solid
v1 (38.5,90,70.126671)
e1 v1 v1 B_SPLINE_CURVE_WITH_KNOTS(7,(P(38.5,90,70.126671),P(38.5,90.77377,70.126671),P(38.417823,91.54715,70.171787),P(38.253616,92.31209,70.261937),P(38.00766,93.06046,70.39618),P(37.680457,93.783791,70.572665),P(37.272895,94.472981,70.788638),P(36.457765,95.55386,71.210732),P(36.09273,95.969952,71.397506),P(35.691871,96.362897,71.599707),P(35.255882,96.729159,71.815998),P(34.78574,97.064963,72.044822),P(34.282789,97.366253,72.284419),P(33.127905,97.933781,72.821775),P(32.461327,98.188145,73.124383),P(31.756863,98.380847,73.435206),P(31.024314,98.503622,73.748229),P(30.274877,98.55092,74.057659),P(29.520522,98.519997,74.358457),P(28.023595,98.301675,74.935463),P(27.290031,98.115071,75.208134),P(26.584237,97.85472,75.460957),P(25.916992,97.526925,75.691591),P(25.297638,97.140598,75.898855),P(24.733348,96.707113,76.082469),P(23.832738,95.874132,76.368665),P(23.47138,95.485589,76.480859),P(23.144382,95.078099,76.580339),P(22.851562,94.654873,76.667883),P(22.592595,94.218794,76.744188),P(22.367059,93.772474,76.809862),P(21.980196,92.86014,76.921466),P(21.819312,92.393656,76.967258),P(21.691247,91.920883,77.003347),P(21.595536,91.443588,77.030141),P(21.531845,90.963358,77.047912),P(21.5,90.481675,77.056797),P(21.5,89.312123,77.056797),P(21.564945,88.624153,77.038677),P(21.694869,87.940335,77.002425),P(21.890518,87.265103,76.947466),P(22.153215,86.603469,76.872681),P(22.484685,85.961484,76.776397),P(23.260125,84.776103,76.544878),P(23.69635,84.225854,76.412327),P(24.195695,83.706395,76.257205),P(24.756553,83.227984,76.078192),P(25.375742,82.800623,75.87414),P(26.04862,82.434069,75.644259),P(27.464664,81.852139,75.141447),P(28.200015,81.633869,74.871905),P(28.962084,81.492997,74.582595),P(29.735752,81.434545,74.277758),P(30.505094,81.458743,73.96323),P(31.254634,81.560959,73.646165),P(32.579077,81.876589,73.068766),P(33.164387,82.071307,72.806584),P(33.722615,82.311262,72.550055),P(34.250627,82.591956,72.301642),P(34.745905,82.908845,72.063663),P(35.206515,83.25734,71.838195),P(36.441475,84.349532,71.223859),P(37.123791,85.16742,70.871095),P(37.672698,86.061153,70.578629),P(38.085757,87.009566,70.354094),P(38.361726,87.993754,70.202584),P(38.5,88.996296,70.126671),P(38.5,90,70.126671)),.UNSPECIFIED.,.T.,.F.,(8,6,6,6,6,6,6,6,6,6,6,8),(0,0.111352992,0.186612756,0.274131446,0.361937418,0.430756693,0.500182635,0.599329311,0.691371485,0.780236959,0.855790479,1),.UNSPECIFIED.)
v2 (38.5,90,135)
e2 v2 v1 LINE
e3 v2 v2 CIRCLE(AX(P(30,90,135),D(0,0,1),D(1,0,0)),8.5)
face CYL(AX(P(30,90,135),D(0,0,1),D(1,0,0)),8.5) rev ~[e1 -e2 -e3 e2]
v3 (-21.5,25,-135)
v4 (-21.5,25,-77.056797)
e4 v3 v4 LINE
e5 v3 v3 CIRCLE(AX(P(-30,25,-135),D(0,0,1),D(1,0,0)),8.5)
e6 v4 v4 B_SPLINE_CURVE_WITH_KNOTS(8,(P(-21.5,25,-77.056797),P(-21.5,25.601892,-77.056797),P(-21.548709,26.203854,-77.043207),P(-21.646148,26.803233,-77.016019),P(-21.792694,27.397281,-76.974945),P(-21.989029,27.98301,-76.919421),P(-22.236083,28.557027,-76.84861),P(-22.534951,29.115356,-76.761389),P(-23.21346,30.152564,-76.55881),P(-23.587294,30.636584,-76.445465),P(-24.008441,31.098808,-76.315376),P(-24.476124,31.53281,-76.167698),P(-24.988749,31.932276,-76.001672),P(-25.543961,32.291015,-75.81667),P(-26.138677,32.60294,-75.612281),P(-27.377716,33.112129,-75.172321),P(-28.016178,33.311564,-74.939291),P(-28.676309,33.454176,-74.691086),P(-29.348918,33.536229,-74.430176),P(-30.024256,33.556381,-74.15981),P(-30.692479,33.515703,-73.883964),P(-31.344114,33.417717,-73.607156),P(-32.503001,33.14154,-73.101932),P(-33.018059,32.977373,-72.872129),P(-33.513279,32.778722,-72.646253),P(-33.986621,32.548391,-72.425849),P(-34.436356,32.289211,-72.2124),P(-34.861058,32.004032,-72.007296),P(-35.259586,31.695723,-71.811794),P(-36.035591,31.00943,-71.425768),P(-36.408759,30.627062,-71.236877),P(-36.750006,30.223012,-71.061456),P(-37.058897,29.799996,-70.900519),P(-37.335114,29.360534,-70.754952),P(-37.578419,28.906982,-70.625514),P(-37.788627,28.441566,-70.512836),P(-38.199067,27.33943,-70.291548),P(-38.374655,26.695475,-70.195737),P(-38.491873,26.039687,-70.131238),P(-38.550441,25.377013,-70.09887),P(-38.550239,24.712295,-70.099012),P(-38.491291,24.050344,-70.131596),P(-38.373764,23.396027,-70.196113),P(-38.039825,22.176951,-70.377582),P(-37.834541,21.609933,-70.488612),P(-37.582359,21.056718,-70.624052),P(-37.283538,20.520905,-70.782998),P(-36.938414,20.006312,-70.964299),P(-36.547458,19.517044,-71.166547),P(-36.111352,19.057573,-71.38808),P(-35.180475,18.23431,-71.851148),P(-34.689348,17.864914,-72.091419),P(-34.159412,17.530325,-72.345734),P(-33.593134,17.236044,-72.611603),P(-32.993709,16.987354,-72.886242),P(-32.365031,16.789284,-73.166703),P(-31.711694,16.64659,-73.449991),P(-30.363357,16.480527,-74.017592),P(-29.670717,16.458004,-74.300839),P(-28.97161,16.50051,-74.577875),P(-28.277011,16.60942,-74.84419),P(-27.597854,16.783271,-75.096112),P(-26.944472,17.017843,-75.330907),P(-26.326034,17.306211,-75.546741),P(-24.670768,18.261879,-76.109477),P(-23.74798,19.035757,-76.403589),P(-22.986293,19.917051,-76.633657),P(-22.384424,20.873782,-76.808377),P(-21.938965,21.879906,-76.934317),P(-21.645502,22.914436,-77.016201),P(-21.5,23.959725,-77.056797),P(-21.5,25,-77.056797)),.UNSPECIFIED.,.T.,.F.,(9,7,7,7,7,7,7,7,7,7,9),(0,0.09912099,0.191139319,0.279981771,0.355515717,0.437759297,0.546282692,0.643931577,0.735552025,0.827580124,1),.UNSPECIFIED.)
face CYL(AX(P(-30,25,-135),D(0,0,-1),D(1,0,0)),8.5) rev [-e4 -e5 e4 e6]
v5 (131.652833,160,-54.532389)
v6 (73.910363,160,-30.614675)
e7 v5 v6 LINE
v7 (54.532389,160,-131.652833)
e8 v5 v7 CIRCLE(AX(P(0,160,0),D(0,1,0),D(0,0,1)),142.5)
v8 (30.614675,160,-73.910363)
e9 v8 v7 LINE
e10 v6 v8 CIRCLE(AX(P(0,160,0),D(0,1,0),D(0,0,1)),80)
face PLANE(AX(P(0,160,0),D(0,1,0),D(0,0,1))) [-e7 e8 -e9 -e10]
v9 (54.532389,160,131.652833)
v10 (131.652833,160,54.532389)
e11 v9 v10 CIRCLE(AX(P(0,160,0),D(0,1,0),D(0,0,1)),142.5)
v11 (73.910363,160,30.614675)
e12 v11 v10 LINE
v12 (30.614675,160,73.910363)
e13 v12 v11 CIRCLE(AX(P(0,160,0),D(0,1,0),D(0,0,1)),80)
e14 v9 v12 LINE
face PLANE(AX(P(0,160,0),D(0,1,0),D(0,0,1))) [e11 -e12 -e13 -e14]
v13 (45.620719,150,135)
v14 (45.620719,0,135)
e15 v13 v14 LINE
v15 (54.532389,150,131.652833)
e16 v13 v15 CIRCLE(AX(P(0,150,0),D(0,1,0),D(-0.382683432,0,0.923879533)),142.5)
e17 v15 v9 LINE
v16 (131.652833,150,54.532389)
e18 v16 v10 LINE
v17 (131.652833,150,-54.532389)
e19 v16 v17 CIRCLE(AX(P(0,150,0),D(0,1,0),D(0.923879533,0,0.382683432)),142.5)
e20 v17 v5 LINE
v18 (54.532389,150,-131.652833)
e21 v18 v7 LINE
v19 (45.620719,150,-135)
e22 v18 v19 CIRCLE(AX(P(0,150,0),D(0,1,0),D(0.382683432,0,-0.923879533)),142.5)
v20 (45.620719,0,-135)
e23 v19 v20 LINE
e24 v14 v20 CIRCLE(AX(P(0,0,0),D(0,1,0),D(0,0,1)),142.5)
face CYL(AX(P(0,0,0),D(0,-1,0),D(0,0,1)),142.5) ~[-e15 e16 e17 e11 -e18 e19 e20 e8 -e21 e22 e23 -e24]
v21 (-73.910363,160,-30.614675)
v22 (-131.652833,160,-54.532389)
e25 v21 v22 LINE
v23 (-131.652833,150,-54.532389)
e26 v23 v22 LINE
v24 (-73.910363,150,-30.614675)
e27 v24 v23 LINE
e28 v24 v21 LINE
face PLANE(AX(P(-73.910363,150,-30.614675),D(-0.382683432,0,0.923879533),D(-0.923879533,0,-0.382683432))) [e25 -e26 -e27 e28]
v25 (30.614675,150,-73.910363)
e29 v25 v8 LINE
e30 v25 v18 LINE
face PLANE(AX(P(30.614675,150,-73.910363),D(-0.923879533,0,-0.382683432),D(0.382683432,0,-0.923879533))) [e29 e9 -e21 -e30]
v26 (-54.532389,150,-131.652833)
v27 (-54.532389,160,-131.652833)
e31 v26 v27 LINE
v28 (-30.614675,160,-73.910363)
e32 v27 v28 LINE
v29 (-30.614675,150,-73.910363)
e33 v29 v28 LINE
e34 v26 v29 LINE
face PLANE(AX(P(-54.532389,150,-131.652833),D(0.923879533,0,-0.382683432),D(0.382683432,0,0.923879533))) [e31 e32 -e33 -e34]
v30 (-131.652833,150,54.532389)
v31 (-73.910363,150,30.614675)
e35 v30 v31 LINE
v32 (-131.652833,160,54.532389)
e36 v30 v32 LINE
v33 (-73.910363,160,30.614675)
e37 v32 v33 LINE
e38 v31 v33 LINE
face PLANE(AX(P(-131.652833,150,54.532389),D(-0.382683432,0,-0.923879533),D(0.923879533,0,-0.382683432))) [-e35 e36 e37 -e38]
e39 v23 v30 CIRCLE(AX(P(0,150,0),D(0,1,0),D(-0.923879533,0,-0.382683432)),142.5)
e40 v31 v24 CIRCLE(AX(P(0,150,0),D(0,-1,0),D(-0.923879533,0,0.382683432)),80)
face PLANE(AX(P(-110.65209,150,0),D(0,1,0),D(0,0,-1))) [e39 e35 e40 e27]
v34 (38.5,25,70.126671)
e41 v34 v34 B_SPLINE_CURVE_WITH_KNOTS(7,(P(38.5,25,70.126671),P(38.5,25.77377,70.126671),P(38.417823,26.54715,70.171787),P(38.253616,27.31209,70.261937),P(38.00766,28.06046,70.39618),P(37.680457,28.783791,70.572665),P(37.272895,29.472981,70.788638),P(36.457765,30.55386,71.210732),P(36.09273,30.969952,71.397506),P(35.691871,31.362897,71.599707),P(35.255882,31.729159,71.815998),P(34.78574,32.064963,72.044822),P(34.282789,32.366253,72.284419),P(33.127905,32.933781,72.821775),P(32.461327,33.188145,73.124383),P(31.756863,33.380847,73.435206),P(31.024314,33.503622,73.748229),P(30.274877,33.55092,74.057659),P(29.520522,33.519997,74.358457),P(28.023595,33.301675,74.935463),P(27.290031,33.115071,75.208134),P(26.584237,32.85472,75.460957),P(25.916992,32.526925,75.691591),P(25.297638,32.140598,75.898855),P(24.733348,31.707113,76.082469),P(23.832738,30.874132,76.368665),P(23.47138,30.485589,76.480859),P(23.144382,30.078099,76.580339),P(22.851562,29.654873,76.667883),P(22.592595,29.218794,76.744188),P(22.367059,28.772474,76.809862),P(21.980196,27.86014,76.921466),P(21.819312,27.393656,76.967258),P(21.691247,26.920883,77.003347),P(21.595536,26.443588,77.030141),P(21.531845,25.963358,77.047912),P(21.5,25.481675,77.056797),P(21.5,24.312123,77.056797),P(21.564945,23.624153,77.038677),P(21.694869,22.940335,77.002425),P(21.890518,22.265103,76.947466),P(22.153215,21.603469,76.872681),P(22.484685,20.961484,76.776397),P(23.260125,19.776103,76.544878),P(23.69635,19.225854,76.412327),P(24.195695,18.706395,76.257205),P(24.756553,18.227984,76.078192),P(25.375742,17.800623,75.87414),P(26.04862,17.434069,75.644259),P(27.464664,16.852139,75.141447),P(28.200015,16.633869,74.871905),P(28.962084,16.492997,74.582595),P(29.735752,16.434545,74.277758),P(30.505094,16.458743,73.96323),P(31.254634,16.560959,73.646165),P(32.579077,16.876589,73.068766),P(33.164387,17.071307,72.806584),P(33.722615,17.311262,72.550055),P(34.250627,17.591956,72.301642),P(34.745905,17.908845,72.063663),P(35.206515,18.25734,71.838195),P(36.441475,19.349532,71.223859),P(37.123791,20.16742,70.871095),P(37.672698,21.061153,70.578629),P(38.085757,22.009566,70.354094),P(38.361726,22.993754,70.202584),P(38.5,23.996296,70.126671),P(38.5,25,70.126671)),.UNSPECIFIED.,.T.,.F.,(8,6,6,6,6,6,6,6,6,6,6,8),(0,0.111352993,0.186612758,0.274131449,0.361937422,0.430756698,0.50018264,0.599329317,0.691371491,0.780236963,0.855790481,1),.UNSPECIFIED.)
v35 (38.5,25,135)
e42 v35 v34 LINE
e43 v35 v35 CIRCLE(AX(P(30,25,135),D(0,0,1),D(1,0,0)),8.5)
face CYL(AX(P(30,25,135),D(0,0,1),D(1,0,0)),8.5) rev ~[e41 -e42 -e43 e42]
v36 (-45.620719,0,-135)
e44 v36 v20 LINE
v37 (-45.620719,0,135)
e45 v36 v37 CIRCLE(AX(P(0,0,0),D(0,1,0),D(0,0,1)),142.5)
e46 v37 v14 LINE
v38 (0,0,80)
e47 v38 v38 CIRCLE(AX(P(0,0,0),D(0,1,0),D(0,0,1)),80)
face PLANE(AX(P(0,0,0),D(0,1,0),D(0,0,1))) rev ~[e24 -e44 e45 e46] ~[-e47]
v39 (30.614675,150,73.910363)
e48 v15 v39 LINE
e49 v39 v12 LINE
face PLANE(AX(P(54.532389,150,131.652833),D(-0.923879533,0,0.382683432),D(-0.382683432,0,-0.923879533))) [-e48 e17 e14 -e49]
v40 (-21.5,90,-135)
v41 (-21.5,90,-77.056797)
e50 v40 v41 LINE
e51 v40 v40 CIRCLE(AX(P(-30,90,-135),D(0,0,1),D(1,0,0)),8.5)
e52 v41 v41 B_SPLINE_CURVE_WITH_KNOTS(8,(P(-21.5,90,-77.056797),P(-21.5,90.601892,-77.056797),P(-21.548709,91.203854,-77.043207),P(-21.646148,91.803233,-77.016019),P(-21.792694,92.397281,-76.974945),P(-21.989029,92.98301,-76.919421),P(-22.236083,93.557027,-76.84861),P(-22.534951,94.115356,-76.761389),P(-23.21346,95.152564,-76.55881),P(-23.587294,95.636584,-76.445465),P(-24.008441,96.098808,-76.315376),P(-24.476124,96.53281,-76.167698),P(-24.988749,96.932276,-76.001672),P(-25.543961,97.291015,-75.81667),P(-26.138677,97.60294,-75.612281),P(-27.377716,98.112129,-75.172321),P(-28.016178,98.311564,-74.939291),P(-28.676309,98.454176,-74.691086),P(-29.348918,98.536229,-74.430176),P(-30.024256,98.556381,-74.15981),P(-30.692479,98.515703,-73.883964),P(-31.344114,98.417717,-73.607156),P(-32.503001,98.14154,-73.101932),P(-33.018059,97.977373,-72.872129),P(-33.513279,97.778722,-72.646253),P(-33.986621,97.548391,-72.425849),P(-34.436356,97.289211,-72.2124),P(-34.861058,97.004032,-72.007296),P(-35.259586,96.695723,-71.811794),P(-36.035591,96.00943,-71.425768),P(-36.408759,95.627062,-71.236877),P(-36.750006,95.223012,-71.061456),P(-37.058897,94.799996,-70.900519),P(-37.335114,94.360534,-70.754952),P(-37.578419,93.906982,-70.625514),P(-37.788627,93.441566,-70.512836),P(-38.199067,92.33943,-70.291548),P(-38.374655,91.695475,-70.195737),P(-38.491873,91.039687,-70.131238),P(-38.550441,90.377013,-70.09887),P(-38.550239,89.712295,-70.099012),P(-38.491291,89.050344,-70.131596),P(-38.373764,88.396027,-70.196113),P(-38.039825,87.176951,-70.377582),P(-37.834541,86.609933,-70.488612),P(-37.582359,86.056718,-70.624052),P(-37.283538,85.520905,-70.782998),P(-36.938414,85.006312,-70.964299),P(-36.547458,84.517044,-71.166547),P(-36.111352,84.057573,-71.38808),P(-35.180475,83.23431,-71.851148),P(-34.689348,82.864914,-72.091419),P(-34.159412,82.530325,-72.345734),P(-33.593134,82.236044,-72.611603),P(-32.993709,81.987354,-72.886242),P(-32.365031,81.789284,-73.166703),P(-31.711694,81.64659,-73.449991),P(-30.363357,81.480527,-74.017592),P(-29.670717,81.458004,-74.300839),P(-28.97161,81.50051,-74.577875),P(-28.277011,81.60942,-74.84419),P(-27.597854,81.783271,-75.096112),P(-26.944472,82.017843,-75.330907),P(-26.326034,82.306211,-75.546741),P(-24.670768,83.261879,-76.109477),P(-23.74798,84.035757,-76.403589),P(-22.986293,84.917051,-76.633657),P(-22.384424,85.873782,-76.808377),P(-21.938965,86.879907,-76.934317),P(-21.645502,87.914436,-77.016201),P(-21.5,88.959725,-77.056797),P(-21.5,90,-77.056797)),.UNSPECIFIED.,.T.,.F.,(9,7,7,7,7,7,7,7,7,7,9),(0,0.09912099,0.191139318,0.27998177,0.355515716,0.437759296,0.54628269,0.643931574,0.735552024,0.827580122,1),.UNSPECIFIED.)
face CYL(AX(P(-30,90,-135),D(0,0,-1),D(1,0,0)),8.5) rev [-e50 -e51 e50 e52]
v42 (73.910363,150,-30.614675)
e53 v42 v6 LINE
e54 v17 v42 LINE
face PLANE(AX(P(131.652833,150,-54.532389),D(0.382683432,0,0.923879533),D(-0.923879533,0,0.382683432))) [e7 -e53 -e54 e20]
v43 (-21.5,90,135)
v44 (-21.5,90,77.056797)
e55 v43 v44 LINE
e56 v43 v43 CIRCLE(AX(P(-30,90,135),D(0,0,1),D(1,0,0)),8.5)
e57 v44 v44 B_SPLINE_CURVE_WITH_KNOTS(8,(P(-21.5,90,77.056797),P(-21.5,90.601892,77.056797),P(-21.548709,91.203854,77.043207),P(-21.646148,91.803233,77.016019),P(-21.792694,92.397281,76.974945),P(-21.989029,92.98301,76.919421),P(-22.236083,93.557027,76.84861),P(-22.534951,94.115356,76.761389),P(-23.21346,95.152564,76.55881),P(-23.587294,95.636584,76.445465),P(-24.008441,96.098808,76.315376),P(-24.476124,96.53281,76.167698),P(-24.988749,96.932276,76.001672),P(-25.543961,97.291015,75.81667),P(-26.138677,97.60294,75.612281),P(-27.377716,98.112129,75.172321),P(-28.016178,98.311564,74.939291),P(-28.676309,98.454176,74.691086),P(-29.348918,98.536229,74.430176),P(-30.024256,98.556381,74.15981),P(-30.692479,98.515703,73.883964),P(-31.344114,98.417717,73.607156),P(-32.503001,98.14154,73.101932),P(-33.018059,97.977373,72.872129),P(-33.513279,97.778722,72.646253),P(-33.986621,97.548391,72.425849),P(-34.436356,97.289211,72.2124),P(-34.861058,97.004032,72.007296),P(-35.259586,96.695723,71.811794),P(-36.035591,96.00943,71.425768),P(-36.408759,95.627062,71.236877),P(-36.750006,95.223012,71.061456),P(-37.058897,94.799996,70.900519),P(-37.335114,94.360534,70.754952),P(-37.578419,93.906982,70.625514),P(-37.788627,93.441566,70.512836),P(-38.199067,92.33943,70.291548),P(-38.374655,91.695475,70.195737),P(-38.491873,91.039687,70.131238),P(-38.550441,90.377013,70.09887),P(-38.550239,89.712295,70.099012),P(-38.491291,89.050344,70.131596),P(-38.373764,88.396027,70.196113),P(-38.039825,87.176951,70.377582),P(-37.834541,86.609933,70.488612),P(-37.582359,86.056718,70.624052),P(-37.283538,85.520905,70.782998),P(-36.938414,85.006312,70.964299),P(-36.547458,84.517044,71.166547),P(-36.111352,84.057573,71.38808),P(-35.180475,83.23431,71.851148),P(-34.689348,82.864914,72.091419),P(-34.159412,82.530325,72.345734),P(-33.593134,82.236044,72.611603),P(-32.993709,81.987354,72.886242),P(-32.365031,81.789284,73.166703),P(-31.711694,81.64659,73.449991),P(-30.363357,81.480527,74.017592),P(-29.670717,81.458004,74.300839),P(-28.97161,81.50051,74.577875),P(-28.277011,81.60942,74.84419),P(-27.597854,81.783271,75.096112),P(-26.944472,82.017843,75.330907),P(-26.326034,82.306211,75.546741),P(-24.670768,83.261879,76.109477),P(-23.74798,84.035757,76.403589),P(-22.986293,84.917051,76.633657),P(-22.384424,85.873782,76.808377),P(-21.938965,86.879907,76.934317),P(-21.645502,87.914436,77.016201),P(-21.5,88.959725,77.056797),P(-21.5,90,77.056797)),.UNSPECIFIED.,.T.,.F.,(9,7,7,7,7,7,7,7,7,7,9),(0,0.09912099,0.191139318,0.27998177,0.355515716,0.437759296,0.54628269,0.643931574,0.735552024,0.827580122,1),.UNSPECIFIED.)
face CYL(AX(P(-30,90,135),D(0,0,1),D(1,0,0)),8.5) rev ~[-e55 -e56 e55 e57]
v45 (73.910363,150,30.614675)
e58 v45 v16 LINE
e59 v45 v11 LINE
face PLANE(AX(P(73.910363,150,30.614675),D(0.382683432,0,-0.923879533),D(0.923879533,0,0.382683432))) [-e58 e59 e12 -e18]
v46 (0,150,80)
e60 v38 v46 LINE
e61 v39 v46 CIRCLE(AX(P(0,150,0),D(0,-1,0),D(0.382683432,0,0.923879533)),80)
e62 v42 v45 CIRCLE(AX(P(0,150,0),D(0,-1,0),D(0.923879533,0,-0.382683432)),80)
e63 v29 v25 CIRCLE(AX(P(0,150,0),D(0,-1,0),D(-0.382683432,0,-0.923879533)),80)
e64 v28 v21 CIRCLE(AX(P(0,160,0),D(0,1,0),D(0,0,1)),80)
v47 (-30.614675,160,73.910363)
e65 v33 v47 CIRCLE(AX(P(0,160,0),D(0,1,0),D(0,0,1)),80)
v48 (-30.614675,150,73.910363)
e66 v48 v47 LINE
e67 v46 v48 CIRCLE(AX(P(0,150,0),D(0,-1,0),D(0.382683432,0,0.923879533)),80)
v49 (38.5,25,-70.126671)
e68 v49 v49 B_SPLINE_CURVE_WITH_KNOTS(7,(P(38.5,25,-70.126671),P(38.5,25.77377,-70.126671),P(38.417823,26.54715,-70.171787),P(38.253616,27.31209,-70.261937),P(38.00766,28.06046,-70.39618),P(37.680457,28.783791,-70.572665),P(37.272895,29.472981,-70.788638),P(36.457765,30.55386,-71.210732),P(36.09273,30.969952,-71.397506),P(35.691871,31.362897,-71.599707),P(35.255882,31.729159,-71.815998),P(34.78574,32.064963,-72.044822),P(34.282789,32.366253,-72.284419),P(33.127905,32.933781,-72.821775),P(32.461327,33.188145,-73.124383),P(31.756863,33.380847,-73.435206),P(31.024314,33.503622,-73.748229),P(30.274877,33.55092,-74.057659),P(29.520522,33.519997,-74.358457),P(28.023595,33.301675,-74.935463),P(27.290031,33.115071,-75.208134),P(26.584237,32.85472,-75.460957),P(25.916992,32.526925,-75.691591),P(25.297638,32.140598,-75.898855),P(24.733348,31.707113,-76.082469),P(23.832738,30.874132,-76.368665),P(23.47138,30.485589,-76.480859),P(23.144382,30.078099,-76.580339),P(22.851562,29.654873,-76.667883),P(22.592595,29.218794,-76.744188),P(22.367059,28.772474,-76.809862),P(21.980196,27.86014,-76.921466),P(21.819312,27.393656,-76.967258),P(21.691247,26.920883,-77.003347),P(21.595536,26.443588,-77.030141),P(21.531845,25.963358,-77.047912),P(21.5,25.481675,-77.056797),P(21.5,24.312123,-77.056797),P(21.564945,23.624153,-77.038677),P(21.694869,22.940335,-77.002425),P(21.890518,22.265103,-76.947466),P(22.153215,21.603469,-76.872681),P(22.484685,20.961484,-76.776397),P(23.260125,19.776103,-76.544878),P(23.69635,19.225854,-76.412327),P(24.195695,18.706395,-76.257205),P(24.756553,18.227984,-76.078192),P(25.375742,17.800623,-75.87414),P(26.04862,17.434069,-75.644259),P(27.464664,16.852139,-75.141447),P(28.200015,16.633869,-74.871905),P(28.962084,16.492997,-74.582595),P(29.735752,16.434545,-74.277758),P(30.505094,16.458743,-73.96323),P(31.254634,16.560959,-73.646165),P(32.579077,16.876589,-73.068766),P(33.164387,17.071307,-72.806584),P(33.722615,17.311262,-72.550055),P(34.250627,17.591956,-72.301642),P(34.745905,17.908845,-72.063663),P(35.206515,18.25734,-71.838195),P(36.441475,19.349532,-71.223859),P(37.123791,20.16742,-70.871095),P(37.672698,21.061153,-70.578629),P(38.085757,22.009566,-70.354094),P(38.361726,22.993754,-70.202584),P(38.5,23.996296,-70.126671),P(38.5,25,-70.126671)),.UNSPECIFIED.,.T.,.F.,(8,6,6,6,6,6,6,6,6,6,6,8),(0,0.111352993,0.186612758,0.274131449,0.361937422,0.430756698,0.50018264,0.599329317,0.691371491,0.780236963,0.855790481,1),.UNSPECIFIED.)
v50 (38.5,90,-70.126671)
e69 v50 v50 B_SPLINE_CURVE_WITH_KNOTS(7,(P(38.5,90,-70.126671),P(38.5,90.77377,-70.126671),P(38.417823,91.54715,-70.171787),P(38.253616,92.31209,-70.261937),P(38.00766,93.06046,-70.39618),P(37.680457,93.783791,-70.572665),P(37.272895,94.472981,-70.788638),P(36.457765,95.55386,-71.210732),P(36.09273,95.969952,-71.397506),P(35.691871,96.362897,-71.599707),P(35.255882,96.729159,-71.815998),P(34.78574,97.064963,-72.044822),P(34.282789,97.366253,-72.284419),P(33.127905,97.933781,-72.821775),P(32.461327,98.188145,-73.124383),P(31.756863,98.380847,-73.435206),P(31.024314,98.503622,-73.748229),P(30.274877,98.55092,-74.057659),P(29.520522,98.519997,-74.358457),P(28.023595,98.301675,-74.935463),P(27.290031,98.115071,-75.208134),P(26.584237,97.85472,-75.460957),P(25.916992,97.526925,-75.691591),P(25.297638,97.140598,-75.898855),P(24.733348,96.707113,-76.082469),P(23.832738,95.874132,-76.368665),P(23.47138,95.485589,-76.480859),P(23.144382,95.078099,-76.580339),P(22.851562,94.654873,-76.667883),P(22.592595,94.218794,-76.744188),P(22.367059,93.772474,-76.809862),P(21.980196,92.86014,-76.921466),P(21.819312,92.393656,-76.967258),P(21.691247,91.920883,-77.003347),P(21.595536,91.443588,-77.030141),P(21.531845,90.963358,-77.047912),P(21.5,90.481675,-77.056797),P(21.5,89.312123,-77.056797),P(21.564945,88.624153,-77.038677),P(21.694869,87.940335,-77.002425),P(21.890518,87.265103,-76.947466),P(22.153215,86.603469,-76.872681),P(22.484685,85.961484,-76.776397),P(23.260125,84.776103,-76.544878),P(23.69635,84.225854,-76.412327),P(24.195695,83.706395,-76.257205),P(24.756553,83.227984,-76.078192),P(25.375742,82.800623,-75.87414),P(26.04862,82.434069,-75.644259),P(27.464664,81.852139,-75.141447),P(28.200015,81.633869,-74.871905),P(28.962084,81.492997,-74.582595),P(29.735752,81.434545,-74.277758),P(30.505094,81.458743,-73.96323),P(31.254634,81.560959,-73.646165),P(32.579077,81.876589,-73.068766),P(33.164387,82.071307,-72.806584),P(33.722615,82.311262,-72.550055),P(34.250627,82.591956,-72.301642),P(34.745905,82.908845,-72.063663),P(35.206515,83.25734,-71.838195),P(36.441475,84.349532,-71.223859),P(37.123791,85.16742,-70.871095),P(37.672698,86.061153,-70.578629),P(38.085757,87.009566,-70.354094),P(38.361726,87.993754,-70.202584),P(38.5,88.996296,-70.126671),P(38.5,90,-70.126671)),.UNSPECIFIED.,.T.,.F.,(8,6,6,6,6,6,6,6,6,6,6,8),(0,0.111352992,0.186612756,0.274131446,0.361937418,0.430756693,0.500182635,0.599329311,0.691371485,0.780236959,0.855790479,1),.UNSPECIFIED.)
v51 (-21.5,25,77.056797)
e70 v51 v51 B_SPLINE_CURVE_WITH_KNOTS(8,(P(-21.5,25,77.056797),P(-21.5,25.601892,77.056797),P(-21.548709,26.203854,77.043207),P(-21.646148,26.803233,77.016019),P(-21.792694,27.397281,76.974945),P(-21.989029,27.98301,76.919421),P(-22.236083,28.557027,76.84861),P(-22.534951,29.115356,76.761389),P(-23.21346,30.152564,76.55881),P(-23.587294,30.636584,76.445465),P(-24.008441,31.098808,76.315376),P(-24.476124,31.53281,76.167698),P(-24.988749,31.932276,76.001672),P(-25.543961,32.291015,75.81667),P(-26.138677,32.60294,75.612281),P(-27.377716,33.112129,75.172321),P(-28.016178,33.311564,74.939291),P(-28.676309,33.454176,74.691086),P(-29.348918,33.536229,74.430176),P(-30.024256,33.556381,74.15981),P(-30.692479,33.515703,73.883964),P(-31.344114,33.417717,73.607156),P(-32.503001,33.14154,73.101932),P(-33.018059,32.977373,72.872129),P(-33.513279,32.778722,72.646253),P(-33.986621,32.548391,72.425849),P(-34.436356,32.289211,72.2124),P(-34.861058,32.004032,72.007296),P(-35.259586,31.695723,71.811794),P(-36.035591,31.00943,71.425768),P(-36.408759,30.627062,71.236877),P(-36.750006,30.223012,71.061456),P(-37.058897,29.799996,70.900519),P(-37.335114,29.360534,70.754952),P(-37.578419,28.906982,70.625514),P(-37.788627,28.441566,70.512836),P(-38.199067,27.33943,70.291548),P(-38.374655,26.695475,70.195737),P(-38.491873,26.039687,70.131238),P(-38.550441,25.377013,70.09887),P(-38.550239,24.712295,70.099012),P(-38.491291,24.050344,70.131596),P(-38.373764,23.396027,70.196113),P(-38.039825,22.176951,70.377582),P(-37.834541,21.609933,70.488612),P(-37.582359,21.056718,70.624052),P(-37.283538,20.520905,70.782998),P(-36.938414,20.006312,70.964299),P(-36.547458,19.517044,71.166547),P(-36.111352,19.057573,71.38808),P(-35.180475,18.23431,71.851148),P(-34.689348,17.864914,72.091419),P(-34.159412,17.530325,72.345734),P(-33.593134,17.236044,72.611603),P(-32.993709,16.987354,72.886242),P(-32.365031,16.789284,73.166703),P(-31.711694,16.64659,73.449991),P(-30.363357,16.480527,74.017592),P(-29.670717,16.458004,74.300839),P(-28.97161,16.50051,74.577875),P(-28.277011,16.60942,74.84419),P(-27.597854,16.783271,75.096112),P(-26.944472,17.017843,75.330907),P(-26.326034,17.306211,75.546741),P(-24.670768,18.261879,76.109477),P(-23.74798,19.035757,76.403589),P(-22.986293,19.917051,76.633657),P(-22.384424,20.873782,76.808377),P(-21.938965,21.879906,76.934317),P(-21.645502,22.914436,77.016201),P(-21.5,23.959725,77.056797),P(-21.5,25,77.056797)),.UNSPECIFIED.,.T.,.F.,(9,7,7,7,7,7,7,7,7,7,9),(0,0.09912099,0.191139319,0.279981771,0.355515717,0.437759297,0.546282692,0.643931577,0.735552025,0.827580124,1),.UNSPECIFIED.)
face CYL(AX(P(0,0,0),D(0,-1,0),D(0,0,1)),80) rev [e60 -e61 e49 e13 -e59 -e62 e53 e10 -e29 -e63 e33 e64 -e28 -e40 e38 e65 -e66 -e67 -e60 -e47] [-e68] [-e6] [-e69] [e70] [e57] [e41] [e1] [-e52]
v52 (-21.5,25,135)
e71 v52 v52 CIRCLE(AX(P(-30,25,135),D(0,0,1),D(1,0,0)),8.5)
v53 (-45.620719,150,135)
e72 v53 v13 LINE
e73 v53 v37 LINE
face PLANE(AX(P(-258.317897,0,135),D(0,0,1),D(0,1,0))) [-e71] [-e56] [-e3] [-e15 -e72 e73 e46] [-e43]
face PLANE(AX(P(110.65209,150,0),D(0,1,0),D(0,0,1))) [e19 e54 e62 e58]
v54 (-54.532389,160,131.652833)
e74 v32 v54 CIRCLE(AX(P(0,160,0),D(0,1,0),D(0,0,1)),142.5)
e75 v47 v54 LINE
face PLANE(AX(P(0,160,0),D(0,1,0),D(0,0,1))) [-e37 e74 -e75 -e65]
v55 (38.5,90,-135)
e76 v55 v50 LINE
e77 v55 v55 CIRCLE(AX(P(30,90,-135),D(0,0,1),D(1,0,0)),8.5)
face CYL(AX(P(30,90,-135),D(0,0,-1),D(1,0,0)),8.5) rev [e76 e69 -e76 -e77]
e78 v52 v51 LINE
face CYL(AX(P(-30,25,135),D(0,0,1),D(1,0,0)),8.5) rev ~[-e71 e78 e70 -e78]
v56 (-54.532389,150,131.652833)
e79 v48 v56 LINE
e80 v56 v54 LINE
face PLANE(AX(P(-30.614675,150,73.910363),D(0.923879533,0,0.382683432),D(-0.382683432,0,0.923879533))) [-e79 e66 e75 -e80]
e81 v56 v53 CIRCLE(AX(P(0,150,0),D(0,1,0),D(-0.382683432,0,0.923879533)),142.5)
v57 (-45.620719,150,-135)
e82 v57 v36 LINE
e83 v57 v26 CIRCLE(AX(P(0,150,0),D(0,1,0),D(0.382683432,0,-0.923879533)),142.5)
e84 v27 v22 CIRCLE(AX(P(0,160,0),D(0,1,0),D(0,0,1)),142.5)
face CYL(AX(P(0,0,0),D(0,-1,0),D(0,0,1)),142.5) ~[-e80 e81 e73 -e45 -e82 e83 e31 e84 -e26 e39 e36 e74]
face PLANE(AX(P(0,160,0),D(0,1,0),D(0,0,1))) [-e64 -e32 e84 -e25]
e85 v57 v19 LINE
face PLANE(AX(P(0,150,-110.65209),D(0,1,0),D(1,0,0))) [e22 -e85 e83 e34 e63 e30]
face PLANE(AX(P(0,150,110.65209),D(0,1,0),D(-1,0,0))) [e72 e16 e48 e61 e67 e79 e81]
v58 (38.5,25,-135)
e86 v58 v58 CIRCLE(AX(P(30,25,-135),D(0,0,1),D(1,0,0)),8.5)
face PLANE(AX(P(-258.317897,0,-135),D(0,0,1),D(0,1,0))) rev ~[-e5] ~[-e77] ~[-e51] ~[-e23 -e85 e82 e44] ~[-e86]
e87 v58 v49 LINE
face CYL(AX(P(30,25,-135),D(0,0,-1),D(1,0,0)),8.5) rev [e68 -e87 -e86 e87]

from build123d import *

# Parameters (mm, degrees)
SKETCH_1_R               = 142.5
SKETCH_1_R_2             = 80
EXTRUDE_1_DEPTH          = 160
CUT_EXTRUDE_START        = -10
CUT_EXTRUDE_1_DEPTH      = 10
PATTERN_CIRCULAR_1_COUNT = 4
CUT_EXTRUDE_2_DEPTH      = 258.317896774
CUT_EXTRUDE_2_DEPTH_BACK = 258.317896774
SKETCH_3_W               = 17.844530797
SKETCH_3_H               = 166.856843943
SKETCH_3_W_2             = 22.841371227
CUT_EXTRUDE_3_REACH      = 346.683
CUT_EXTRUDE_3_END_RADIUS = 80
SKETCH_4_R               = 8.5


with BuildPart() as part:
    # 草图1 → 凸台-拉伸1 (new body)
    with BuildSketch(Plane(origin=(0, 0, 0), x_dir=(1, 0, 0), z_dir=(0, 1, 0))):
        with Locations(Location((0, 0, 0), (0, 0, 270))):
            Circle(SKETCH_1_R)
        with Locations(Location((0, 0, 0), (0, 0, 270))):
            Circle(SKETCH_1_R_2, mode=Mode.SUBTRACT)
    extrude(amount=EXTRUDE_1_DEPTH)

    # 草图2 → 切除-拉伸1 (cut)
    with BuildSketch(Plane(origin=(0, 160, 0), x_dir=(1, 0, 0), z_dir=(0, 1, 0)).offset(CUT_EXTRUDE_START)):
        with BuildLine():
            Line((-54.532389112, 131.652833383), (-30.614674589, 73.910362601))
            ThreePointArc((-30.614674589, 73.910362601), (0, 80), (30.614674589, 73.910362601))
            Line((30.614674589, 73.910362601), (54.532389112, 131.652833383))
            ThreePointArc((54.532389112, 131.652833383), (0, 142.5), (-54.532389112, 131.652833383))
        make_face()
    cut_extrude_1 = extrude(amount=CUT_EXTRUDE_1_DEPTH, mode=Mode.SUBTRACT)

    # 阵列(圆周)1: 切除-拉伸1 ×4 about axis
    pattern_circular_1_axis = Axis((0, 160, 0), (0, -1, 0))
    for i in range(1, PATTERN_CIRCULAR_1_COUNT):
        add(cut_extrude_1.rotate(pattern_circular_1_axis, i * 360 / PATTERN_CIRCULAR_1_COUNT), mode=Mode.SUBTRACT)

    # 草图3 → 切除-拉伸2 (cut, two sides: drawn at the far end of the back side and taken through both)
    with BuildSketch(Plane(origin=(0, 0, 0), x_dir=(0, 0, -1), z_dir=(1, 0, 0)).offset(-CUT_EXTRUDE_2_DEPTH_BACK)):
        with Locations((143.922265399, 83.428421972)):
            Rectangle(SKETCH_3_W, SKETCH_3_H)
        with Locations((-146.420685613, 83.428421972)):
            Rectangle(SKETCH_3_W_2, SKETCH_3_H)
    extrude(amount=CUT_EXTRUDE_2_DEPTH + CUT_EXTRUDE_2_DEPTH_BACK, mode=Mode.SUBTRACT)

    # 切除-拉伸3: up to this cylinder (the profile starts outside it)
    cut_extrude_3_end = Plane(origin=(0, 57.5, 0), z_dir=(0, -1, 0)) * Cylinder(CUT_EXTRUDE_3_END_RADIUS, 919.366, mode=Mode.PRIVATE)
    # 草图4 → 切除-拉伸3 (cut, up to the surface)
    with BuildSketch(Plane.XY.offset(135), mode=Mode.PRIVATE) as cut_extrude_3_sk1:
        with Locations((-30, 90)):
            Circle(SKETCH_4_R)
    cut_extrude_3_tool1 = extrude(cut_extrude_3_sk1.sketch, amount=-CUT_EXTRUDE_3_REACH, mode=Mode.PRIVATE) - cut_extrude_3_end
    # 草图4 → 切除-拉伸3 (cut, up to the surface)
    with BuildSketch(Plane.XY.offset(135), mode=Mode.PRIVATE) as cut_extrude_3_sk2:
        with Locations((30, 90)):
            Circle(SKETCH_4_R)
    cut_extrude_3_tool2 = extrude(cut_extrude_3_sk2.sketch, amount=-CUT_EXTRUDE_3_REACH, mode=Mode.PRIVATE) - cut_extrude_3_end
    # 草图4 → 切除-拉伸3 (cut, up to the surface)
    with BuildSketch(Plane.XY.offset(135), mode=Mode.PRIVATE) as cut_extrude_3_sk3:
        with Locations((30, 25)):
            Circle(SKETCH_4_R)
    cut_extrude_3_tool3 = extrude(cut_extrude_3_sk3.sketch, amount=-CUT_EXTRUDE_3_REACH, mode=Mode.PRIVATE) - cut_extrude_3_end
    # 草图4 → 切除-拉伸3 (cut, up to the surface)
    with BuildSketch(Plane.XY.offset(135), mode=Mode.PRIVATE) as cut_extrude_3_sk4:
        with Locations((-30, 25)):
            Circle(SKETCH_4_R)
    cut_extrude_3_tool4 = extrude(cut_extrude_3_sk4.sketch, amount=-CUT_EXTRUDE_3_REACH, mode=Mode.PRIVATE) - cut_extrude_3_end
    cut_extrude_3 = cut_extrude_3_tool1.solids().sort_by_distance((-30, 90, 135))[0] + cut_extrude_3_tool2.solids().sort_by_distance((30, 90, 135))[0] + cut_extrude_3_tool3.solids().sort_by_distance((30, 25, 135))[0] + cut_extrude_3_tool4.solids().sort_by_distance((-30, 25, 135))[0]
    add(cut_extrude_3, mode=Mode.SUBTRACT)

    # 镜向1: 切除-拉伸3 across plane
    add(cut_extrude_3.mirror(Plane.XY), mode=Mode.SUBTRACT)


solid = part.part
